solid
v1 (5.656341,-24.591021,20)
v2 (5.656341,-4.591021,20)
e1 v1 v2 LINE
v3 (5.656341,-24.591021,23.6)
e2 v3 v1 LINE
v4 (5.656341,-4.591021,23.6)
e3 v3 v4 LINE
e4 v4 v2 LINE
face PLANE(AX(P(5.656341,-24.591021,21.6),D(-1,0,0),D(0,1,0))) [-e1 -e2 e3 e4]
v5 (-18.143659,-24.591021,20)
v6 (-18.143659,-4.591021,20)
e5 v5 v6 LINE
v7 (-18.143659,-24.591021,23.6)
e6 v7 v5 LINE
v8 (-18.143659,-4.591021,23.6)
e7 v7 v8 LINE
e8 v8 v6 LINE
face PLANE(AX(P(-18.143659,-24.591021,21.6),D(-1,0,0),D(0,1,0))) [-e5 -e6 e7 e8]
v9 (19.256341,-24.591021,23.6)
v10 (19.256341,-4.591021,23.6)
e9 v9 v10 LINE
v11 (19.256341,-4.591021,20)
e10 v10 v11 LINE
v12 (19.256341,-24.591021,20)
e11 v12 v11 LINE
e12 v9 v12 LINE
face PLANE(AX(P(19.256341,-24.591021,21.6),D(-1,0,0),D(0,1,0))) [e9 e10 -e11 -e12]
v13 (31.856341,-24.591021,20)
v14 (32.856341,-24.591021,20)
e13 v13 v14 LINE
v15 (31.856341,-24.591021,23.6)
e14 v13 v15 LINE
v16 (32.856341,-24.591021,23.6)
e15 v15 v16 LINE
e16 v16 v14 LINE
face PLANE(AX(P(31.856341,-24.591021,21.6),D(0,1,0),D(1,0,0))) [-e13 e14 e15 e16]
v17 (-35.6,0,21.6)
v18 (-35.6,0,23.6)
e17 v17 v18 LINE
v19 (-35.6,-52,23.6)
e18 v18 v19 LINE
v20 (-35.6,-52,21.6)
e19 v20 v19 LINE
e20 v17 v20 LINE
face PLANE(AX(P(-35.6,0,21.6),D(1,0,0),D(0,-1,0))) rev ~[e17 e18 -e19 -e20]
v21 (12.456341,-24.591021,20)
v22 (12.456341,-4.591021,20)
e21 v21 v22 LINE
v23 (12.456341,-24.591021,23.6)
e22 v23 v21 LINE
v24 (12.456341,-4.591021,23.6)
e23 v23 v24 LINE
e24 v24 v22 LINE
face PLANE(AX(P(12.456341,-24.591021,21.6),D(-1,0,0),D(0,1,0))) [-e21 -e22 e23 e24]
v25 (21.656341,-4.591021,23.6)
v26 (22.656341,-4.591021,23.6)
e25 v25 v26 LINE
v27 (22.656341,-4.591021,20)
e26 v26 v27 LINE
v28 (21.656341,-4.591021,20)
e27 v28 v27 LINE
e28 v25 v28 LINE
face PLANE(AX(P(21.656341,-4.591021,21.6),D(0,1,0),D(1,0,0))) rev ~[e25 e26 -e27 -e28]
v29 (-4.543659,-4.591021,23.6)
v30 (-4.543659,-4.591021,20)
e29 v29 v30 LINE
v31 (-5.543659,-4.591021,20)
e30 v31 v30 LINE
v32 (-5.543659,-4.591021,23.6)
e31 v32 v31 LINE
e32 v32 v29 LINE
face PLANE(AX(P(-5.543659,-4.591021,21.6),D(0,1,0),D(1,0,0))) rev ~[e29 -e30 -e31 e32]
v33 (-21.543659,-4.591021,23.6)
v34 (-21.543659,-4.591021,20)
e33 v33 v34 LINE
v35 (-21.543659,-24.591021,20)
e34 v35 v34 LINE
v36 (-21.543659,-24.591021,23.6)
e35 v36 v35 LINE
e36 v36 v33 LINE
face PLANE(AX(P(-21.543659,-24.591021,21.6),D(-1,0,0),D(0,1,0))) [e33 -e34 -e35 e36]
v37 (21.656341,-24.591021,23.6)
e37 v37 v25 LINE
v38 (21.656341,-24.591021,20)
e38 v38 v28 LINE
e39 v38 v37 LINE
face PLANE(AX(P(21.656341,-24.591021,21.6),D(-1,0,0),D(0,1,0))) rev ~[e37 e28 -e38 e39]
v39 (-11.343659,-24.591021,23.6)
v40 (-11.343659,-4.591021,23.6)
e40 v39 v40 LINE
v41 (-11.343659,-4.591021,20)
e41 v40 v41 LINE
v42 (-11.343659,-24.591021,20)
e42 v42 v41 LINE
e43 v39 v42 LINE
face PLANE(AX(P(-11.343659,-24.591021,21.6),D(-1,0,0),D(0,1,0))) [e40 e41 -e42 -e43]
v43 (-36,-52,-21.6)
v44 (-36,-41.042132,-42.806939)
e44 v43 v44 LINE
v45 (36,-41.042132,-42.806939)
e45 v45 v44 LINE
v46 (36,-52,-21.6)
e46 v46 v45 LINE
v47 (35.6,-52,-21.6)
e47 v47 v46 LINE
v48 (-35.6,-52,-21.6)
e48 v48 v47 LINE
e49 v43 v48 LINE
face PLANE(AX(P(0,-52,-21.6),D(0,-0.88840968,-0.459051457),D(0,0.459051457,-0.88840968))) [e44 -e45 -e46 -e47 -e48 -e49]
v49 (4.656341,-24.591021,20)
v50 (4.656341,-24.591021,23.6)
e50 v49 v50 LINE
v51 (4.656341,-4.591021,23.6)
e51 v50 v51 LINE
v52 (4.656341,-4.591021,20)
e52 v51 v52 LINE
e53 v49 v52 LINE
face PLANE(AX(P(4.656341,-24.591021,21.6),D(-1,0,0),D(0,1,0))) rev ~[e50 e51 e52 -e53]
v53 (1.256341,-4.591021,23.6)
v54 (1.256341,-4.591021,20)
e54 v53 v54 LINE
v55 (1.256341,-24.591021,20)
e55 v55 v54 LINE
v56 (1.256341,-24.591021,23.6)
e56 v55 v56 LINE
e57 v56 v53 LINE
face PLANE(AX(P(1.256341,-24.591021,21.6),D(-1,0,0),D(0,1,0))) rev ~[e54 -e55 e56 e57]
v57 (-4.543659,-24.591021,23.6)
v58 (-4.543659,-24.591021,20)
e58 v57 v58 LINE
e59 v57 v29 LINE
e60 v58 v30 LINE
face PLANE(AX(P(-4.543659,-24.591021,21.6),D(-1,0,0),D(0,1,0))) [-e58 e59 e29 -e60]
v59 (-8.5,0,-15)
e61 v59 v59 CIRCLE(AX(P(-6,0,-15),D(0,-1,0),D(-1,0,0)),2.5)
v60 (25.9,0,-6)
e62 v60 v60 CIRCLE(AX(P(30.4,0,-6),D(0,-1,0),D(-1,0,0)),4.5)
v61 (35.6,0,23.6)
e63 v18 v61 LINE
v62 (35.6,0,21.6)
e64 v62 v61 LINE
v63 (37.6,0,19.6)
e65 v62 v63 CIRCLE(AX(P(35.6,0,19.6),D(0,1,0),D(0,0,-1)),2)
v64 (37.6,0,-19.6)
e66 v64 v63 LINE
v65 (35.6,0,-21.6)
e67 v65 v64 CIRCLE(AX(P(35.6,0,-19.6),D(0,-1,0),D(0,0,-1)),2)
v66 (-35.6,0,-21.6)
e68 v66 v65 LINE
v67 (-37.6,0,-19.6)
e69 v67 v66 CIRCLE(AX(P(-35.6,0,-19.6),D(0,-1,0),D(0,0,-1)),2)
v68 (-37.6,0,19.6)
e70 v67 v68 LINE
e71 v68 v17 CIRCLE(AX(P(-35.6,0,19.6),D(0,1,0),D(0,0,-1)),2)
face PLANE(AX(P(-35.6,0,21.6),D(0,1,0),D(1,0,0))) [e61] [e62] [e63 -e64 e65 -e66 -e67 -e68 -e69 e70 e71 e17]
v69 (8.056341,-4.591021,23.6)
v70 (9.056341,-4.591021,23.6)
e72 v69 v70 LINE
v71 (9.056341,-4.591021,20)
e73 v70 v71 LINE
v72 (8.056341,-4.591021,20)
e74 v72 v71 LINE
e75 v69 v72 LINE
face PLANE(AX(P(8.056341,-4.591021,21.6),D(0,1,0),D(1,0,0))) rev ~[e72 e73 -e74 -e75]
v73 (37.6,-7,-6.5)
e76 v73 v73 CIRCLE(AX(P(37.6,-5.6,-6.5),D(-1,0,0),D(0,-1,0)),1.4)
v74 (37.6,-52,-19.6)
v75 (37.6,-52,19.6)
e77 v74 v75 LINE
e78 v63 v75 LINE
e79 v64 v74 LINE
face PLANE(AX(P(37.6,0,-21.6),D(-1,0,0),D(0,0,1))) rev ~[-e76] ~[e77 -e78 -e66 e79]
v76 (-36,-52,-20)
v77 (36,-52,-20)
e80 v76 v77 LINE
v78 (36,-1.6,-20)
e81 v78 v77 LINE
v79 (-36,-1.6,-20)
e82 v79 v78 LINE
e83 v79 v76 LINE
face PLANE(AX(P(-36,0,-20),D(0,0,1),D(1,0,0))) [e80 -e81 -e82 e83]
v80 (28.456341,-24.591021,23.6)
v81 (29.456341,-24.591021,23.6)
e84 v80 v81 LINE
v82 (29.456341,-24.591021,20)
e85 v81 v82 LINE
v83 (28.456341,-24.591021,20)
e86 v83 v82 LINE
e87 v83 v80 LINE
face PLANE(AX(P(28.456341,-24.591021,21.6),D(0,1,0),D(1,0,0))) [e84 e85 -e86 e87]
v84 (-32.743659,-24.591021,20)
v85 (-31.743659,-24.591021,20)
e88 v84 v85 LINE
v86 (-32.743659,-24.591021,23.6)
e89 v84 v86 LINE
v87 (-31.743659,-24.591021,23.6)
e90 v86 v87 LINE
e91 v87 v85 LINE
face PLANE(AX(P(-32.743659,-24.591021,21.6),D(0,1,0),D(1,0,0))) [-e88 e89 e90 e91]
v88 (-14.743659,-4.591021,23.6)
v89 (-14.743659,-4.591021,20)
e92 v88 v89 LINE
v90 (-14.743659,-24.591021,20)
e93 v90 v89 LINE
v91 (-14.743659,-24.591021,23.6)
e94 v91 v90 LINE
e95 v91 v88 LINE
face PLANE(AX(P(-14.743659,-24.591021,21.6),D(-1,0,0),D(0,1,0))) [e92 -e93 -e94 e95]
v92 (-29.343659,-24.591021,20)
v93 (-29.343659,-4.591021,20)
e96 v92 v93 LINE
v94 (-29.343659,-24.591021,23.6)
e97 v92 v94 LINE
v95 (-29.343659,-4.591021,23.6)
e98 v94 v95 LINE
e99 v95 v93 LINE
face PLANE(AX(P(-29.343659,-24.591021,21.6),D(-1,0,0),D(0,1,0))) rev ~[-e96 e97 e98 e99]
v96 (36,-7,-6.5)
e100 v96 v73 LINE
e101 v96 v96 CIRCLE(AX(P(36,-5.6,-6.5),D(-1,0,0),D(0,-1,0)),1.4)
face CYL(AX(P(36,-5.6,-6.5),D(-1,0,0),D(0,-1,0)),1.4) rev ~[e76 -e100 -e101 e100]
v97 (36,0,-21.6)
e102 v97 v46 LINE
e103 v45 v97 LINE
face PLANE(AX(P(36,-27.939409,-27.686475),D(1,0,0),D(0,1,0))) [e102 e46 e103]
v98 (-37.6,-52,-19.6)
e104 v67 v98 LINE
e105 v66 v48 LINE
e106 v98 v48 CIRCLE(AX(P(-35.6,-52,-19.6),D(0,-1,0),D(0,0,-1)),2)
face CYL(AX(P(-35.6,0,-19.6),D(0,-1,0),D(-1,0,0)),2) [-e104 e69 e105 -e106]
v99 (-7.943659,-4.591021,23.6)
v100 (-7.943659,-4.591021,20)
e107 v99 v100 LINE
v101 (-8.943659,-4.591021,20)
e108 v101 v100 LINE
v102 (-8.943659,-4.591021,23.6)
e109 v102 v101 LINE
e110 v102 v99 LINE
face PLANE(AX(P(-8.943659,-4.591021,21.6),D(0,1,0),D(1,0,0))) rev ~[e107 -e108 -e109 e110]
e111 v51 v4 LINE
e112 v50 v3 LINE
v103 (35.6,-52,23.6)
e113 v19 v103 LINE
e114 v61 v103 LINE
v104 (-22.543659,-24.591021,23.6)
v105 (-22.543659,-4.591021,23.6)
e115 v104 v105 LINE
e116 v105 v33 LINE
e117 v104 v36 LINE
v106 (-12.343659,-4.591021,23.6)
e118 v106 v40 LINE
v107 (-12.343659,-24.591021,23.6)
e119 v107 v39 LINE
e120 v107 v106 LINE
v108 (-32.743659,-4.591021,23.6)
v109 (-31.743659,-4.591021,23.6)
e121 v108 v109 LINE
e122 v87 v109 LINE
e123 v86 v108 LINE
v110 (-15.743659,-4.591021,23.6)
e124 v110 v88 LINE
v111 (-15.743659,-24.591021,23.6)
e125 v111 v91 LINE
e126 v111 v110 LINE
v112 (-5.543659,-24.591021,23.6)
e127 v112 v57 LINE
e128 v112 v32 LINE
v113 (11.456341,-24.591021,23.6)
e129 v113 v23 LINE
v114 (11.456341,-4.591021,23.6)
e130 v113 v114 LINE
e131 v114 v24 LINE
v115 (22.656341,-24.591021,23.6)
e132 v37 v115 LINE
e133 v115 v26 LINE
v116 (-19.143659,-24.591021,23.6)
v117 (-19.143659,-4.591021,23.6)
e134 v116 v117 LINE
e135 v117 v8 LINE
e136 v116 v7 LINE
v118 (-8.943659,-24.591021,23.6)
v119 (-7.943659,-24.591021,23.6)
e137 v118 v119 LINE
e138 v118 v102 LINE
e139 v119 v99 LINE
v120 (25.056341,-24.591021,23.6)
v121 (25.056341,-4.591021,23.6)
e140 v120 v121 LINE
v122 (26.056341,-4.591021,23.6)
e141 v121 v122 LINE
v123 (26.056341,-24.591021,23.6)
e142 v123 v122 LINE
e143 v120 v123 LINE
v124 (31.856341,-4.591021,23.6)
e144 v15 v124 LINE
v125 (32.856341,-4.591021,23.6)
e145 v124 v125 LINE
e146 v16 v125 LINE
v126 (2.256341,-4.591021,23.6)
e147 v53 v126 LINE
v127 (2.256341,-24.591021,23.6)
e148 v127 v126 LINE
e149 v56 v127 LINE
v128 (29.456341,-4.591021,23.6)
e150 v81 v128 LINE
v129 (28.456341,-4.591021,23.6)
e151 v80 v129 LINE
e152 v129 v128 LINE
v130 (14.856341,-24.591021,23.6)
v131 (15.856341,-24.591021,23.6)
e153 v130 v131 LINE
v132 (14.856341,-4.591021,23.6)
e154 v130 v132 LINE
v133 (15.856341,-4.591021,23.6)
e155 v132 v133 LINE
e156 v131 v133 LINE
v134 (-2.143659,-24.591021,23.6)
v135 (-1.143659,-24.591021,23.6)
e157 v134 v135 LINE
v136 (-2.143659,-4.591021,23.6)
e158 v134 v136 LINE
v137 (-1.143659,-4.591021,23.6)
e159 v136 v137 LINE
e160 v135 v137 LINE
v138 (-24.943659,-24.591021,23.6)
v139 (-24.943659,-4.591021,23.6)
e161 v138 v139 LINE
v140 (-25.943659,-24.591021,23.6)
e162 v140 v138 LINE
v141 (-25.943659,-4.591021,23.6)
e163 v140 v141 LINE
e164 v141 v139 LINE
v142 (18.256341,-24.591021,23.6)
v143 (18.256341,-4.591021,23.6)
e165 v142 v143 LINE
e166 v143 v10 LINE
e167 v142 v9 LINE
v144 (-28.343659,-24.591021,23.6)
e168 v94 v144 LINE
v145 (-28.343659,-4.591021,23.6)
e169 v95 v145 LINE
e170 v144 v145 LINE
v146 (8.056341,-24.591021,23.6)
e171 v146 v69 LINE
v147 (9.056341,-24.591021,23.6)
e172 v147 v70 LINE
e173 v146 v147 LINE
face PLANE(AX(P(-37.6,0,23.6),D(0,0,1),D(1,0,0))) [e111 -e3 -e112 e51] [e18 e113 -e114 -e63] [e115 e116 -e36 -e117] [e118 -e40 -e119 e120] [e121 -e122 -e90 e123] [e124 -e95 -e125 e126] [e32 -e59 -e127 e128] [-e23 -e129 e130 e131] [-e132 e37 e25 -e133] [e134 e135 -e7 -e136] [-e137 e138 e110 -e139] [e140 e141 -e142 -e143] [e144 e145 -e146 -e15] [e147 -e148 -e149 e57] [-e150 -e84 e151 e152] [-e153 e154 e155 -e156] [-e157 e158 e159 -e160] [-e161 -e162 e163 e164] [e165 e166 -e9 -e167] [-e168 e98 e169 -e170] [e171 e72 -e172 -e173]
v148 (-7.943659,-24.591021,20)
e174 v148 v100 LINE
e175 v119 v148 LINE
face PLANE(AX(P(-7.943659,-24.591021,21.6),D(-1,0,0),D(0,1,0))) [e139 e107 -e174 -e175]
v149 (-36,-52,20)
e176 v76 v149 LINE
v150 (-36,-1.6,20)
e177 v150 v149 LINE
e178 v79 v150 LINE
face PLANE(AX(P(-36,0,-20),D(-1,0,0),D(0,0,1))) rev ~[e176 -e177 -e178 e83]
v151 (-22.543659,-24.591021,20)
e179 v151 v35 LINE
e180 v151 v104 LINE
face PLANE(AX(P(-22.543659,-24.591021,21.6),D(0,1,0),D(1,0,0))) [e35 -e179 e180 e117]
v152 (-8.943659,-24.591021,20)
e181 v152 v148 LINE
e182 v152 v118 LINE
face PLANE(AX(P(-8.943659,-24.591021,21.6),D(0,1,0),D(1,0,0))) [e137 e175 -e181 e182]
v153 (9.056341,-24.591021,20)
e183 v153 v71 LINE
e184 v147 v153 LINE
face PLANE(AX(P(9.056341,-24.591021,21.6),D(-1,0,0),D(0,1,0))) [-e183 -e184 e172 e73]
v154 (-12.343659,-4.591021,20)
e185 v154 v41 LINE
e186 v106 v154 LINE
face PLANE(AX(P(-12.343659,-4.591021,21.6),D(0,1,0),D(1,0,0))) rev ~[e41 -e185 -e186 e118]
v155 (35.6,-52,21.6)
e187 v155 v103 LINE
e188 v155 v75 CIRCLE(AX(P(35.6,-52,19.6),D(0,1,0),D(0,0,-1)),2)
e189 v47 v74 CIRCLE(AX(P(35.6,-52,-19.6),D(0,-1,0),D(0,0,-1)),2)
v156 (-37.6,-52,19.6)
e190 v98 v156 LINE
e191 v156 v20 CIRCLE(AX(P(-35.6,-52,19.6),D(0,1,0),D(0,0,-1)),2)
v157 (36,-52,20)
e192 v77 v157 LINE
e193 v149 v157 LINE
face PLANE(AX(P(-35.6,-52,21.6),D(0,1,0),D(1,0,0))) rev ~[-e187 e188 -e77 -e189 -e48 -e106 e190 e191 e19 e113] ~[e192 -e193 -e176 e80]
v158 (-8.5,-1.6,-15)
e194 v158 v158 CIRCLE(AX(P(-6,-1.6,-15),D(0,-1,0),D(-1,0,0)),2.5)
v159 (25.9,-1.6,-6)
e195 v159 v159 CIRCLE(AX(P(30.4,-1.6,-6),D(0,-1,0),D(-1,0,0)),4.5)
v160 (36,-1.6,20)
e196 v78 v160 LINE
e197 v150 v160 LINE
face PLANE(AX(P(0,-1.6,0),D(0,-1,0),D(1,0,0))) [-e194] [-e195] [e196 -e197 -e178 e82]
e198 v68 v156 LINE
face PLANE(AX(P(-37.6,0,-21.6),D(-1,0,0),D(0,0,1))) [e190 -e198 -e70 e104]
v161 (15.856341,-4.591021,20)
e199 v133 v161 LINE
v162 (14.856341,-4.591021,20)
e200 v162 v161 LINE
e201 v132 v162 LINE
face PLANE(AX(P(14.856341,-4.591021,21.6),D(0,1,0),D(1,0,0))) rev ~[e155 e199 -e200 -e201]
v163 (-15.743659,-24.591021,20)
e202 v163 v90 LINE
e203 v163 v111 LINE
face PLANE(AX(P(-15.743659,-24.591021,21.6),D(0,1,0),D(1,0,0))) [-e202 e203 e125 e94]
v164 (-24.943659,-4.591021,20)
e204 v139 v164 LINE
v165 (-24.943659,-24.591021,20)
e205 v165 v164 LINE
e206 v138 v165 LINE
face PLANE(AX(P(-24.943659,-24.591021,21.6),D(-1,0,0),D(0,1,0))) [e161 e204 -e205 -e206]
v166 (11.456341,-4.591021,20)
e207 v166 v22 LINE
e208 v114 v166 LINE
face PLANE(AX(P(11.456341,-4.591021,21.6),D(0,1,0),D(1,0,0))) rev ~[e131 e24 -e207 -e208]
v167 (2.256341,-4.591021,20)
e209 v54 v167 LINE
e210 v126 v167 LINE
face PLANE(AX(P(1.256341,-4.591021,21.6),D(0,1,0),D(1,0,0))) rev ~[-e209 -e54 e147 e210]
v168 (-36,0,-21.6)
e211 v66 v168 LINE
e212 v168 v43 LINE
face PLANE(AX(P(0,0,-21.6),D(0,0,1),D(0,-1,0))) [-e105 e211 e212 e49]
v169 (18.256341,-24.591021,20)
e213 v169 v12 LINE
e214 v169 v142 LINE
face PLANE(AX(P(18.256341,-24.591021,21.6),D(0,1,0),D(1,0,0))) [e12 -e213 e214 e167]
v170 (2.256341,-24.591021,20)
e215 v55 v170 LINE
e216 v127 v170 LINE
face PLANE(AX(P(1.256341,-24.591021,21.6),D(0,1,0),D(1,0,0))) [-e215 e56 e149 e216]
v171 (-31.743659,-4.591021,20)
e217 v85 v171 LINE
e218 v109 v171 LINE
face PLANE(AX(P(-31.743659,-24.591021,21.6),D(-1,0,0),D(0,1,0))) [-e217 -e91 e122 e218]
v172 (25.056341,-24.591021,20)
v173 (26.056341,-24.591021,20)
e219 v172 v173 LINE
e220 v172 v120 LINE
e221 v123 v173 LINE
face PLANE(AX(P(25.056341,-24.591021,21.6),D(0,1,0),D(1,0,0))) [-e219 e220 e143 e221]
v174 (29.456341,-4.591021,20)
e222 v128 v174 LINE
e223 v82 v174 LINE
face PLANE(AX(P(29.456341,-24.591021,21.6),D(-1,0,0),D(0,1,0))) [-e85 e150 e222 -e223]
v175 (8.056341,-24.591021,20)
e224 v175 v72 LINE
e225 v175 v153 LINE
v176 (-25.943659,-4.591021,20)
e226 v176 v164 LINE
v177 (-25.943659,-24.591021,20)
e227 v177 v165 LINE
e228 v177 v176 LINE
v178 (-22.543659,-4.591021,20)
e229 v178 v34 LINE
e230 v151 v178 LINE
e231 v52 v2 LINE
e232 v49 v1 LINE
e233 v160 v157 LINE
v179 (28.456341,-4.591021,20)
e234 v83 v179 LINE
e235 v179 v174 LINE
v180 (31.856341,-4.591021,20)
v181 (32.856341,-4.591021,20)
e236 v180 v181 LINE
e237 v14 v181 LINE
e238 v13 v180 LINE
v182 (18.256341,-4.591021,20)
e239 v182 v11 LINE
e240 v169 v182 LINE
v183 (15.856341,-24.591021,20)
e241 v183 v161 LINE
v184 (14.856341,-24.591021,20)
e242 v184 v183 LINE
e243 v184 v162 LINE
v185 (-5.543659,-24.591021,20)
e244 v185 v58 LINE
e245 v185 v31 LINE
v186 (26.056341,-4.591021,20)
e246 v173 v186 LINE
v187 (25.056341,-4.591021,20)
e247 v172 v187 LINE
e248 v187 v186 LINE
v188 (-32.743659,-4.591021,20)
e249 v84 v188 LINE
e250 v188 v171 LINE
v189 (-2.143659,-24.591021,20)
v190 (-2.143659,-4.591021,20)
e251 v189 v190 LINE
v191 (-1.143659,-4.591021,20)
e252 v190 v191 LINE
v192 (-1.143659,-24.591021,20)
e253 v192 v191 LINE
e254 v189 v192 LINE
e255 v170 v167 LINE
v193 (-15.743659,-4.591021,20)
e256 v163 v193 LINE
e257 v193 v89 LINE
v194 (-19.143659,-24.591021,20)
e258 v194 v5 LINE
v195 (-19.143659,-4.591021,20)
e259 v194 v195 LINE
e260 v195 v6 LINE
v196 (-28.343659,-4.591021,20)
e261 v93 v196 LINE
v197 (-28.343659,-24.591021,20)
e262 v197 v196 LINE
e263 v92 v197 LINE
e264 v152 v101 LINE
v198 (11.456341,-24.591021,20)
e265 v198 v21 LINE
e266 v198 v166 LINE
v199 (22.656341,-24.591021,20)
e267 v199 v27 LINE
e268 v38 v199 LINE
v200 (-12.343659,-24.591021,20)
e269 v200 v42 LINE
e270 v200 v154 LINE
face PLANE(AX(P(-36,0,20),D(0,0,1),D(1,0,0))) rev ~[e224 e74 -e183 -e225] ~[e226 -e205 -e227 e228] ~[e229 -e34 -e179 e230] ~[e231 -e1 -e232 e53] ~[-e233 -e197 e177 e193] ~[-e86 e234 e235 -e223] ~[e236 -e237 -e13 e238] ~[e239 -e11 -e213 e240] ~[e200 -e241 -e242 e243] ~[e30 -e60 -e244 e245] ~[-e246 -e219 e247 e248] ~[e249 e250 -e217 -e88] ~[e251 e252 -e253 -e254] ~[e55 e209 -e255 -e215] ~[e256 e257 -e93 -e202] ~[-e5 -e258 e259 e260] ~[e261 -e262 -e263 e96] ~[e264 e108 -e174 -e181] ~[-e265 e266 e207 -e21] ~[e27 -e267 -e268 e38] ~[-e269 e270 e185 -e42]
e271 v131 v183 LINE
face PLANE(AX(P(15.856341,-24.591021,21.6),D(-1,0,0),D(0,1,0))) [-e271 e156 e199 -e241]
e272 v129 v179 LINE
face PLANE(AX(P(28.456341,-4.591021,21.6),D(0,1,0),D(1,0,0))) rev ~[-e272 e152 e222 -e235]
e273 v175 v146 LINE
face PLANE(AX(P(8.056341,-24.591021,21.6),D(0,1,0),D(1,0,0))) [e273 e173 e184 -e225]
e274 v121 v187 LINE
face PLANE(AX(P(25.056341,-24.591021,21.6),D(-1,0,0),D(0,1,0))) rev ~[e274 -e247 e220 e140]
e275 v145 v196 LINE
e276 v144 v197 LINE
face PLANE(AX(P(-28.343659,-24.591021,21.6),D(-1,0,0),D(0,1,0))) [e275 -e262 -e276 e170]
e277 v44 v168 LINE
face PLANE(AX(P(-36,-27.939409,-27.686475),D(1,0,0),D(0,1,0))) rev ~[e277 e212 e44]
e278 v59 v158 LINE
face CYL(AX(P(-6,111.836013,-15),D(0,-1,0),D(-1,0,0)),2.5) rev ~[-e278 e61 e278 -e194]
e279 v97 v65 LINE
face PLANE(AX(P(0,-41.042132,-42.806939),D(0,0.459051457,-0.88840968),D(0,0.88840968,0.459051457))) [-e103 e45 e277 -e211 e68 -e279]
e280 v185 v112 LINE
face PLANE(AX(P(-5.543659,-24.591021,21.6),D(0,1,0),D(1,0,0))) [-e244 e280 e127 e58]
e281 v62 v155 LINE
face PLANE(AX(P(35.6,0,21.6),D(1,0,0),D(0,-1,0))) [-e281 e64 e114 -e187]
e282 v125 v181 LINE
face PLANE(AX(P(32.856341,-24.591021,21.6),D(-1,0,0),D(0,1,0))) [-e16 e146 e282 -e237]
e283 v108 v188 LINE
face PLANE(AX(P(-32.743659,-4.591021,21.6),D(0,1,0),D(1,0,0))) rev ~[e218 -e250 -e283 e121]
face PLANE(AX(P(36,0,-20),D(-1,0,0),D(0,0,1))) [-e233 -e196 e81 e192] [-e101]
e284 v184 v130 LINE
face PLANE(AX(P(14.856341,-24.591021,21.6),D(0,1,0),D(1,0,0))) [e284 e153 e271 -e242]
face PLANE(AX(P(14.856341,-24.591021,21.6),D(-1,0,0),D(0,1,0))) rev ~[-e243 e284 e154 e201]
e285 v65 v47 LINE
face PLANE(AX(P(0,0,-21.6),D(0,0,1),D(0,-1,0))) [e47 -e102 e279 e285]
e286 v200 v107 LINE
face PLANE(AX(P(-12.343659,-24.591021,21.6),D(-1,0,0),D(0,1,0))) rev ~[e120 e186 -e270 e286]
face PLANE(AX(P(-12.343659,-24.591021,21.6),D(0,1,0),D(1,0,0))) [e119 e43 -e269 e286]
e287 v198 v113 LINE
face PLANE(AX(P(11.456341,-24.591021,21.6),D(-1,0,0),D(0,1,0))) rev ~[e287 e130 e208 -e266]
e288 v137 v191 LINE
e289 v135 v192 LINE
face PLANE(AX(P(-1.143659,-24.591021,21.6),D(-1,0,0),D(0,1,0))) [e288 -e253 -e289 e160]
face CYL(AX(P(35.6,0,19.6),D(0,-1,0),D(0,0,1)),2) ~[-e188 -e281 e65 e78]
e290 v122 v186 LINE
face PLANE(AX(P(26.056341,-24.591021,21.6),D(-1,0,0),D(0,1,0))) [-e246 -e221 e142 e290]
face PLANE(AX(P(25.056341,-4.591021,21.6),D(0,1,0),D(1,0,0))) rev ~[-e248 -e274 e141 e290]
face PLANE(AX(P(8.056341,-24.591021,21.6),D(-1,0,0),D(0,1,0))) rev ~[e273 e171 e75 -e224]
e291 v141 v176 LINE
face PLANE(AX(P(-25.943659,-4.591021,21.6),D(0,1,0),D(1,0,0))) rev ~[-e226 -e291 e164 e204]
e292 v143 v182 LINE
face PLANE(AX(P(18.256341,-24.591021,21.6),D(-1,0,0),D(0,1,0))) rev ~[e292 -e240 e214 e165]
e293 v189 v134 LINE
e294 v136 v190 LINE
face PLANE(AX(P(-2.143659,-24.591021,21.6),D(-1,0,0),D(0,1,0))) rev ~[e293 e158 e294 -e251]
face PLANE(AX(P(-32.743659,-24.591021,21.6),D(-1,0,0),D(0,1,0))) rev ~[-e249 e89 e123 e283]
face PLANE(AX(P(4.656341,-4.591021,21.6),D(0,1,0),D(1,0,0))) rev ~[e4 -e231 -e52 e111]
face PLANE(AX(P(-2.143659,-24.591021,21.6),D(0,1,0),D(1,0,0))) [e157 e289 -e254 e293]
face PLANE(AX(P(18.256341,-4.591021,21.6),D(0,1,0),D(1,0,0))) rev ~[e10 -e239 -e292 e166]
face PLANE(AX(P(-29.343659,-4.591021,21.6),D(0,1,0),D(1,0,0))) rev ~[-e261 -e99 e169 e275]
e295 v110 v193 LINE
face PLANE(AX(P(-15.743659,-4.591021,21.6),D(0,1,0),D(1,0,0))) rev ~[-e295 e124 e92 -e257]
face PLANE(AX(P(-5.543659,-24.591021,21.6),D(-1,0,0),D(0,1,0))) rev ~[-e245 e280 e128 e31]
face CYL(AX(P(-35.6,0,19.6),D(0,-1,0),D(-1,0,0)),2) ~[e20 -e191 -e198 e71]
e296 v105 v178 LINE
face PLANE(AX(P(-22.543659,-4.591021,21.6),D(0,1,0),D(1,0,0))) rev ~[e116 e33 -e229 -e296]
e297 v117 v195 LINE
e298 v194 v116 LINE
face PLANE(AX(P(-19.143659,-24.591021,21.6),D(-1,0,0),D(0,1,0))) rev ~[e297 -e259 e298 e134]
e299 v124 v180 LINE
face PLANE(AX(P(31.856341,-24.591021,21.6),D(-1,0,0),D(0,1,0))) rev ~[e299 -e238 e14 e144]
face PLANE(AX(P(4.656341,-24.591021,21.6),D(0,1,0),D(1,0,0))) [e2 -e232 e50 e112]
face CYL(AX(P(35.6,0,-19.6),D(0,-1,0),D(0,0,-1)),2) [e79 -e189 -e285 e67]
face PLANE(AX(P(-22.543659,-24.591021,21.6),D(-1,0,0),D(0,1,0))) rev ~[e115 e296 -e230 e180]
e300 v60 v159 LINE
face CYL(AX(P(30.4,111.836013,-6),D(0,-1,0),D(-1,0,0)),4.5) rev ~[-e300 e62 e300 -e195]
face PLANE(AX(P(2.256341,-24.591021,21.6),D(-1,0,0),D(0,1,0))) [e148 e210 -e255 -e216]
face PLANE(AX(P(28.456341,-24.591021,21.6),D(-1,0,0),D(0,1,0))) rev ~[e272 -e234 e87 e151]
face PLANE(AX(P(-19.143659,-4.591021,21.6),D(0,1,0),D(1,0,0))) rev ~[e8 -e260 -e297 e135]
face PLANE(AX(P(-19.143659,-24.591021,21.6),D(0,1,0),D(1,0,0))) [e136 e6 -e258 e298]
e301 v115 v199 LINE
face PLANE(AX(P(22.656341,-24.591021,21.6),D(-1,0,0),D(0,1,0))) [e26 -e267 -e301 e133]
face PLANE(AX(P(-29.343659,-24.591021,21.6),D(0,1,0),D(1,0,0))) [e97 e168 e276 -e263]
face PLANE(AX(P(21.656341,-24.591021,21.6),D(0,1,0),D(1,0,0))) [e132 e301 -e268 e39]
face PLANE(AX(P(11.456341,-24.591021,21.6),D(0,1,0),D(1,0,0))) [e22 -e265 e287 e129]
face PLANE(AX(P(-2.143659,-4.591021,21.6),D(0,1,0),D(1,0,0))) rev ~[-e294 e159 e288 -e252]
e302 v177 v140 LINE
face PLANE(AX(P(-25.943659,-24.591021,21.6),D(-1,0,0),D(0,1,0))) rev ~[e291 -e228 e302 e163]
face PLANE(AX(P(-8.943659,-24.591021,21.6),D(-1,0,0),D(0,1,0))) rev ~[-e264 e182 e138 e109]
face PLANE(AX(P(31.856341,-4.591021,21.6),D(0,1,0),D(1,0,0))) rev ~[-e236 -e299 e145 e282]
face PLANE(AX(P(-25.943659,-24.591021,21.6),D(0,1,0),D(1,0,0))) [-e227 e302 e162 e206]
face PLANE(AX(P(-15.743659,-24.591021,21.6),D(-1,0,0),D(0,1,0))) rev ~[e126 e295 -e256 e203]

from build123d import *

# Parameters (mm, degrees)
F0_W      = 75.2
F0_H      = 43.2
F0_W_2    = 72
F0_H_2    = 40
F1_DEPTH  = 52
F2_R      = 2
F3_DEPTH  = 1.6
F5_DEPTH  = 36
F6_D      = 9
F8_D      = 2.8
F8_DEPTH  = 1.601
F9_D      = 5
F10_W     = 1
F10_H     = 20
F11_DEPTH = 25
F12_DEPTH = 2


with BuildPart() as f1:
    # F0 (on Front) → F1 (new body)
    with BuildSketch(Plane.XZ):
        Rectangle(F0_W, F0_H)
        Rectangle(F0_W_2, F0_H_2, mode=Mode.SUBTRACT)
    extrude(amount=F1_DEPTH)

    # F2
    f2_edges = [f1.edges().sort_by_distance(p)[0] for p in [
        (37.6, -26, 21.6),
        (-37.6, -26, 21.6),
        (-37.6, -26, -21.6),
        (37.6, -26, -21.6),
    ]]
    fillet(f2_edges, radius=F2_R)

    # F0 (on Front) → F3 (join)
    with BuildSketch(Plane.XZ):
        Rectangle(F0_W_2, F0_H_2)
    extrude(amount=F3_DEPTH)

    # F4 (on Right) → F5 (join, symmetric)
    with BuildSketch(Plane.YZ):
        Polygon((0, -21.6), (-52, -21.6), (-41.0421315348, -42.8069394041), align=None)
    extrude(amount=F5_DEPTH, both=True)

    # F6 (through all)
    with Locations(Plane(origin=(0, 0, 0), x_dir=(1, 0, 0), z_dir=(0, 1, 0))):
        with Locations((30.4, 6)):
            Hole(F6_D / 2)

    # F8 (through all, one way)
    with BuildSketch(Plane(origin=(36, 0, 0), x_dir=(0, -1, 0), z_dir=(-1, 0, 0))):
        with Locations((5.6, -6.5)):
            Circle(F8_D / 2)
    extrude(amount=-F8_DEPTH, mode=Mode.SUBTRACT)

    # F9 (through all)
    with Locations(Plane(origin=(0, 0, 0), x_dir=(1, 0, 0), z_dir=(0, 1, 0))):
        with Locations((-6, 15)):
            Hole(F9_D / 2)

    # F10 (on face) → F11 (cut)
    with BuildSketch(Plane.XY.offset(21.6)):
        with Locations((-32.2436588705, -14.5910207555)):
            Rectangle(F10_W, F10_H)
        with Locations((-28.8436588705, -14.5910207555)):
            Rectangle(F10_W, F10_H)
        with Locations((-25.4436588705, -14.5910207555)):
            Rectangle(F10_W, F10_H)
        with Locations((-22.0436588705, -14.5910207555)):
            Rectangle(F10_W, F10_H)
        with Locations((-18.6436588705, -14.5910207555)):
            Rectangle(F10_W, F10_H)
        with Locations((-15.2436588705, -14.5910207555)):
            Rectangle(F10_W, F10_H)
        with Locations((-11.8436588705, -14.5910207555)):
            Rectangle(F10_W, F10_H)
        with Locations((-8.4436588705, -14.5910207555)):
            Rectangle(F10_W, F10_H)
        with Locations((-5.0436588705, -14.5910207555)):
            Rectangle(F10_W, F10_H)
        with Locations((1.7563411295, -14.5910207555)):
            Rectangle(F10_W, F10_H)
        with Locations((5.1563411295, -14.5910207555)):
            Rectangle(F10_W, F10_H)
        with Locations((-1.6436588705, -14.5910207555)):
            Rectangle(F10_W, F10_H)
        with Locations((8.5563411295, -14.5910207555)):
            Rectangle(F10_W, F10_H)
        with Locations((11.9563411295, -14.5910207555)):
            Rectangle(F10_W, F10_H)
        with Locations((15.3563411295, -14.5910207555)):
            Rectangle(F10_W, F10_H)
        with Locations((18.7563411295, -14.5910207555)):
            Rectangle(F10_W, F10_H)
        with Locations((22.1563411295, -14.5910207555)):
            Rectangle(F10_W, F10_H)
        with Locations((25.5563411295, -14.5910207555)):
            Rectangle(F10_W, F10_H)
        with Locations((28.9563411295, -14.5910207555)):
            Rectangle(F10_W, F10_H)
        with Locations((32.3563411295, -14.5910207555)):
            Rectangle(F10_W, F10_H)
    extrude(amount=-F11_DEPTH, mode=Mode.SUBTRACT)

    # F12 (add): a face of the model
    f12_faces = [f1.faces().sort_by_distance(p)[0] for p in [
        (-0.0068242647, -27.3819015558, 21.6),
    ]]
    extrude(f12_faces, amount=F12_DEPTH)


solid = f1.part
